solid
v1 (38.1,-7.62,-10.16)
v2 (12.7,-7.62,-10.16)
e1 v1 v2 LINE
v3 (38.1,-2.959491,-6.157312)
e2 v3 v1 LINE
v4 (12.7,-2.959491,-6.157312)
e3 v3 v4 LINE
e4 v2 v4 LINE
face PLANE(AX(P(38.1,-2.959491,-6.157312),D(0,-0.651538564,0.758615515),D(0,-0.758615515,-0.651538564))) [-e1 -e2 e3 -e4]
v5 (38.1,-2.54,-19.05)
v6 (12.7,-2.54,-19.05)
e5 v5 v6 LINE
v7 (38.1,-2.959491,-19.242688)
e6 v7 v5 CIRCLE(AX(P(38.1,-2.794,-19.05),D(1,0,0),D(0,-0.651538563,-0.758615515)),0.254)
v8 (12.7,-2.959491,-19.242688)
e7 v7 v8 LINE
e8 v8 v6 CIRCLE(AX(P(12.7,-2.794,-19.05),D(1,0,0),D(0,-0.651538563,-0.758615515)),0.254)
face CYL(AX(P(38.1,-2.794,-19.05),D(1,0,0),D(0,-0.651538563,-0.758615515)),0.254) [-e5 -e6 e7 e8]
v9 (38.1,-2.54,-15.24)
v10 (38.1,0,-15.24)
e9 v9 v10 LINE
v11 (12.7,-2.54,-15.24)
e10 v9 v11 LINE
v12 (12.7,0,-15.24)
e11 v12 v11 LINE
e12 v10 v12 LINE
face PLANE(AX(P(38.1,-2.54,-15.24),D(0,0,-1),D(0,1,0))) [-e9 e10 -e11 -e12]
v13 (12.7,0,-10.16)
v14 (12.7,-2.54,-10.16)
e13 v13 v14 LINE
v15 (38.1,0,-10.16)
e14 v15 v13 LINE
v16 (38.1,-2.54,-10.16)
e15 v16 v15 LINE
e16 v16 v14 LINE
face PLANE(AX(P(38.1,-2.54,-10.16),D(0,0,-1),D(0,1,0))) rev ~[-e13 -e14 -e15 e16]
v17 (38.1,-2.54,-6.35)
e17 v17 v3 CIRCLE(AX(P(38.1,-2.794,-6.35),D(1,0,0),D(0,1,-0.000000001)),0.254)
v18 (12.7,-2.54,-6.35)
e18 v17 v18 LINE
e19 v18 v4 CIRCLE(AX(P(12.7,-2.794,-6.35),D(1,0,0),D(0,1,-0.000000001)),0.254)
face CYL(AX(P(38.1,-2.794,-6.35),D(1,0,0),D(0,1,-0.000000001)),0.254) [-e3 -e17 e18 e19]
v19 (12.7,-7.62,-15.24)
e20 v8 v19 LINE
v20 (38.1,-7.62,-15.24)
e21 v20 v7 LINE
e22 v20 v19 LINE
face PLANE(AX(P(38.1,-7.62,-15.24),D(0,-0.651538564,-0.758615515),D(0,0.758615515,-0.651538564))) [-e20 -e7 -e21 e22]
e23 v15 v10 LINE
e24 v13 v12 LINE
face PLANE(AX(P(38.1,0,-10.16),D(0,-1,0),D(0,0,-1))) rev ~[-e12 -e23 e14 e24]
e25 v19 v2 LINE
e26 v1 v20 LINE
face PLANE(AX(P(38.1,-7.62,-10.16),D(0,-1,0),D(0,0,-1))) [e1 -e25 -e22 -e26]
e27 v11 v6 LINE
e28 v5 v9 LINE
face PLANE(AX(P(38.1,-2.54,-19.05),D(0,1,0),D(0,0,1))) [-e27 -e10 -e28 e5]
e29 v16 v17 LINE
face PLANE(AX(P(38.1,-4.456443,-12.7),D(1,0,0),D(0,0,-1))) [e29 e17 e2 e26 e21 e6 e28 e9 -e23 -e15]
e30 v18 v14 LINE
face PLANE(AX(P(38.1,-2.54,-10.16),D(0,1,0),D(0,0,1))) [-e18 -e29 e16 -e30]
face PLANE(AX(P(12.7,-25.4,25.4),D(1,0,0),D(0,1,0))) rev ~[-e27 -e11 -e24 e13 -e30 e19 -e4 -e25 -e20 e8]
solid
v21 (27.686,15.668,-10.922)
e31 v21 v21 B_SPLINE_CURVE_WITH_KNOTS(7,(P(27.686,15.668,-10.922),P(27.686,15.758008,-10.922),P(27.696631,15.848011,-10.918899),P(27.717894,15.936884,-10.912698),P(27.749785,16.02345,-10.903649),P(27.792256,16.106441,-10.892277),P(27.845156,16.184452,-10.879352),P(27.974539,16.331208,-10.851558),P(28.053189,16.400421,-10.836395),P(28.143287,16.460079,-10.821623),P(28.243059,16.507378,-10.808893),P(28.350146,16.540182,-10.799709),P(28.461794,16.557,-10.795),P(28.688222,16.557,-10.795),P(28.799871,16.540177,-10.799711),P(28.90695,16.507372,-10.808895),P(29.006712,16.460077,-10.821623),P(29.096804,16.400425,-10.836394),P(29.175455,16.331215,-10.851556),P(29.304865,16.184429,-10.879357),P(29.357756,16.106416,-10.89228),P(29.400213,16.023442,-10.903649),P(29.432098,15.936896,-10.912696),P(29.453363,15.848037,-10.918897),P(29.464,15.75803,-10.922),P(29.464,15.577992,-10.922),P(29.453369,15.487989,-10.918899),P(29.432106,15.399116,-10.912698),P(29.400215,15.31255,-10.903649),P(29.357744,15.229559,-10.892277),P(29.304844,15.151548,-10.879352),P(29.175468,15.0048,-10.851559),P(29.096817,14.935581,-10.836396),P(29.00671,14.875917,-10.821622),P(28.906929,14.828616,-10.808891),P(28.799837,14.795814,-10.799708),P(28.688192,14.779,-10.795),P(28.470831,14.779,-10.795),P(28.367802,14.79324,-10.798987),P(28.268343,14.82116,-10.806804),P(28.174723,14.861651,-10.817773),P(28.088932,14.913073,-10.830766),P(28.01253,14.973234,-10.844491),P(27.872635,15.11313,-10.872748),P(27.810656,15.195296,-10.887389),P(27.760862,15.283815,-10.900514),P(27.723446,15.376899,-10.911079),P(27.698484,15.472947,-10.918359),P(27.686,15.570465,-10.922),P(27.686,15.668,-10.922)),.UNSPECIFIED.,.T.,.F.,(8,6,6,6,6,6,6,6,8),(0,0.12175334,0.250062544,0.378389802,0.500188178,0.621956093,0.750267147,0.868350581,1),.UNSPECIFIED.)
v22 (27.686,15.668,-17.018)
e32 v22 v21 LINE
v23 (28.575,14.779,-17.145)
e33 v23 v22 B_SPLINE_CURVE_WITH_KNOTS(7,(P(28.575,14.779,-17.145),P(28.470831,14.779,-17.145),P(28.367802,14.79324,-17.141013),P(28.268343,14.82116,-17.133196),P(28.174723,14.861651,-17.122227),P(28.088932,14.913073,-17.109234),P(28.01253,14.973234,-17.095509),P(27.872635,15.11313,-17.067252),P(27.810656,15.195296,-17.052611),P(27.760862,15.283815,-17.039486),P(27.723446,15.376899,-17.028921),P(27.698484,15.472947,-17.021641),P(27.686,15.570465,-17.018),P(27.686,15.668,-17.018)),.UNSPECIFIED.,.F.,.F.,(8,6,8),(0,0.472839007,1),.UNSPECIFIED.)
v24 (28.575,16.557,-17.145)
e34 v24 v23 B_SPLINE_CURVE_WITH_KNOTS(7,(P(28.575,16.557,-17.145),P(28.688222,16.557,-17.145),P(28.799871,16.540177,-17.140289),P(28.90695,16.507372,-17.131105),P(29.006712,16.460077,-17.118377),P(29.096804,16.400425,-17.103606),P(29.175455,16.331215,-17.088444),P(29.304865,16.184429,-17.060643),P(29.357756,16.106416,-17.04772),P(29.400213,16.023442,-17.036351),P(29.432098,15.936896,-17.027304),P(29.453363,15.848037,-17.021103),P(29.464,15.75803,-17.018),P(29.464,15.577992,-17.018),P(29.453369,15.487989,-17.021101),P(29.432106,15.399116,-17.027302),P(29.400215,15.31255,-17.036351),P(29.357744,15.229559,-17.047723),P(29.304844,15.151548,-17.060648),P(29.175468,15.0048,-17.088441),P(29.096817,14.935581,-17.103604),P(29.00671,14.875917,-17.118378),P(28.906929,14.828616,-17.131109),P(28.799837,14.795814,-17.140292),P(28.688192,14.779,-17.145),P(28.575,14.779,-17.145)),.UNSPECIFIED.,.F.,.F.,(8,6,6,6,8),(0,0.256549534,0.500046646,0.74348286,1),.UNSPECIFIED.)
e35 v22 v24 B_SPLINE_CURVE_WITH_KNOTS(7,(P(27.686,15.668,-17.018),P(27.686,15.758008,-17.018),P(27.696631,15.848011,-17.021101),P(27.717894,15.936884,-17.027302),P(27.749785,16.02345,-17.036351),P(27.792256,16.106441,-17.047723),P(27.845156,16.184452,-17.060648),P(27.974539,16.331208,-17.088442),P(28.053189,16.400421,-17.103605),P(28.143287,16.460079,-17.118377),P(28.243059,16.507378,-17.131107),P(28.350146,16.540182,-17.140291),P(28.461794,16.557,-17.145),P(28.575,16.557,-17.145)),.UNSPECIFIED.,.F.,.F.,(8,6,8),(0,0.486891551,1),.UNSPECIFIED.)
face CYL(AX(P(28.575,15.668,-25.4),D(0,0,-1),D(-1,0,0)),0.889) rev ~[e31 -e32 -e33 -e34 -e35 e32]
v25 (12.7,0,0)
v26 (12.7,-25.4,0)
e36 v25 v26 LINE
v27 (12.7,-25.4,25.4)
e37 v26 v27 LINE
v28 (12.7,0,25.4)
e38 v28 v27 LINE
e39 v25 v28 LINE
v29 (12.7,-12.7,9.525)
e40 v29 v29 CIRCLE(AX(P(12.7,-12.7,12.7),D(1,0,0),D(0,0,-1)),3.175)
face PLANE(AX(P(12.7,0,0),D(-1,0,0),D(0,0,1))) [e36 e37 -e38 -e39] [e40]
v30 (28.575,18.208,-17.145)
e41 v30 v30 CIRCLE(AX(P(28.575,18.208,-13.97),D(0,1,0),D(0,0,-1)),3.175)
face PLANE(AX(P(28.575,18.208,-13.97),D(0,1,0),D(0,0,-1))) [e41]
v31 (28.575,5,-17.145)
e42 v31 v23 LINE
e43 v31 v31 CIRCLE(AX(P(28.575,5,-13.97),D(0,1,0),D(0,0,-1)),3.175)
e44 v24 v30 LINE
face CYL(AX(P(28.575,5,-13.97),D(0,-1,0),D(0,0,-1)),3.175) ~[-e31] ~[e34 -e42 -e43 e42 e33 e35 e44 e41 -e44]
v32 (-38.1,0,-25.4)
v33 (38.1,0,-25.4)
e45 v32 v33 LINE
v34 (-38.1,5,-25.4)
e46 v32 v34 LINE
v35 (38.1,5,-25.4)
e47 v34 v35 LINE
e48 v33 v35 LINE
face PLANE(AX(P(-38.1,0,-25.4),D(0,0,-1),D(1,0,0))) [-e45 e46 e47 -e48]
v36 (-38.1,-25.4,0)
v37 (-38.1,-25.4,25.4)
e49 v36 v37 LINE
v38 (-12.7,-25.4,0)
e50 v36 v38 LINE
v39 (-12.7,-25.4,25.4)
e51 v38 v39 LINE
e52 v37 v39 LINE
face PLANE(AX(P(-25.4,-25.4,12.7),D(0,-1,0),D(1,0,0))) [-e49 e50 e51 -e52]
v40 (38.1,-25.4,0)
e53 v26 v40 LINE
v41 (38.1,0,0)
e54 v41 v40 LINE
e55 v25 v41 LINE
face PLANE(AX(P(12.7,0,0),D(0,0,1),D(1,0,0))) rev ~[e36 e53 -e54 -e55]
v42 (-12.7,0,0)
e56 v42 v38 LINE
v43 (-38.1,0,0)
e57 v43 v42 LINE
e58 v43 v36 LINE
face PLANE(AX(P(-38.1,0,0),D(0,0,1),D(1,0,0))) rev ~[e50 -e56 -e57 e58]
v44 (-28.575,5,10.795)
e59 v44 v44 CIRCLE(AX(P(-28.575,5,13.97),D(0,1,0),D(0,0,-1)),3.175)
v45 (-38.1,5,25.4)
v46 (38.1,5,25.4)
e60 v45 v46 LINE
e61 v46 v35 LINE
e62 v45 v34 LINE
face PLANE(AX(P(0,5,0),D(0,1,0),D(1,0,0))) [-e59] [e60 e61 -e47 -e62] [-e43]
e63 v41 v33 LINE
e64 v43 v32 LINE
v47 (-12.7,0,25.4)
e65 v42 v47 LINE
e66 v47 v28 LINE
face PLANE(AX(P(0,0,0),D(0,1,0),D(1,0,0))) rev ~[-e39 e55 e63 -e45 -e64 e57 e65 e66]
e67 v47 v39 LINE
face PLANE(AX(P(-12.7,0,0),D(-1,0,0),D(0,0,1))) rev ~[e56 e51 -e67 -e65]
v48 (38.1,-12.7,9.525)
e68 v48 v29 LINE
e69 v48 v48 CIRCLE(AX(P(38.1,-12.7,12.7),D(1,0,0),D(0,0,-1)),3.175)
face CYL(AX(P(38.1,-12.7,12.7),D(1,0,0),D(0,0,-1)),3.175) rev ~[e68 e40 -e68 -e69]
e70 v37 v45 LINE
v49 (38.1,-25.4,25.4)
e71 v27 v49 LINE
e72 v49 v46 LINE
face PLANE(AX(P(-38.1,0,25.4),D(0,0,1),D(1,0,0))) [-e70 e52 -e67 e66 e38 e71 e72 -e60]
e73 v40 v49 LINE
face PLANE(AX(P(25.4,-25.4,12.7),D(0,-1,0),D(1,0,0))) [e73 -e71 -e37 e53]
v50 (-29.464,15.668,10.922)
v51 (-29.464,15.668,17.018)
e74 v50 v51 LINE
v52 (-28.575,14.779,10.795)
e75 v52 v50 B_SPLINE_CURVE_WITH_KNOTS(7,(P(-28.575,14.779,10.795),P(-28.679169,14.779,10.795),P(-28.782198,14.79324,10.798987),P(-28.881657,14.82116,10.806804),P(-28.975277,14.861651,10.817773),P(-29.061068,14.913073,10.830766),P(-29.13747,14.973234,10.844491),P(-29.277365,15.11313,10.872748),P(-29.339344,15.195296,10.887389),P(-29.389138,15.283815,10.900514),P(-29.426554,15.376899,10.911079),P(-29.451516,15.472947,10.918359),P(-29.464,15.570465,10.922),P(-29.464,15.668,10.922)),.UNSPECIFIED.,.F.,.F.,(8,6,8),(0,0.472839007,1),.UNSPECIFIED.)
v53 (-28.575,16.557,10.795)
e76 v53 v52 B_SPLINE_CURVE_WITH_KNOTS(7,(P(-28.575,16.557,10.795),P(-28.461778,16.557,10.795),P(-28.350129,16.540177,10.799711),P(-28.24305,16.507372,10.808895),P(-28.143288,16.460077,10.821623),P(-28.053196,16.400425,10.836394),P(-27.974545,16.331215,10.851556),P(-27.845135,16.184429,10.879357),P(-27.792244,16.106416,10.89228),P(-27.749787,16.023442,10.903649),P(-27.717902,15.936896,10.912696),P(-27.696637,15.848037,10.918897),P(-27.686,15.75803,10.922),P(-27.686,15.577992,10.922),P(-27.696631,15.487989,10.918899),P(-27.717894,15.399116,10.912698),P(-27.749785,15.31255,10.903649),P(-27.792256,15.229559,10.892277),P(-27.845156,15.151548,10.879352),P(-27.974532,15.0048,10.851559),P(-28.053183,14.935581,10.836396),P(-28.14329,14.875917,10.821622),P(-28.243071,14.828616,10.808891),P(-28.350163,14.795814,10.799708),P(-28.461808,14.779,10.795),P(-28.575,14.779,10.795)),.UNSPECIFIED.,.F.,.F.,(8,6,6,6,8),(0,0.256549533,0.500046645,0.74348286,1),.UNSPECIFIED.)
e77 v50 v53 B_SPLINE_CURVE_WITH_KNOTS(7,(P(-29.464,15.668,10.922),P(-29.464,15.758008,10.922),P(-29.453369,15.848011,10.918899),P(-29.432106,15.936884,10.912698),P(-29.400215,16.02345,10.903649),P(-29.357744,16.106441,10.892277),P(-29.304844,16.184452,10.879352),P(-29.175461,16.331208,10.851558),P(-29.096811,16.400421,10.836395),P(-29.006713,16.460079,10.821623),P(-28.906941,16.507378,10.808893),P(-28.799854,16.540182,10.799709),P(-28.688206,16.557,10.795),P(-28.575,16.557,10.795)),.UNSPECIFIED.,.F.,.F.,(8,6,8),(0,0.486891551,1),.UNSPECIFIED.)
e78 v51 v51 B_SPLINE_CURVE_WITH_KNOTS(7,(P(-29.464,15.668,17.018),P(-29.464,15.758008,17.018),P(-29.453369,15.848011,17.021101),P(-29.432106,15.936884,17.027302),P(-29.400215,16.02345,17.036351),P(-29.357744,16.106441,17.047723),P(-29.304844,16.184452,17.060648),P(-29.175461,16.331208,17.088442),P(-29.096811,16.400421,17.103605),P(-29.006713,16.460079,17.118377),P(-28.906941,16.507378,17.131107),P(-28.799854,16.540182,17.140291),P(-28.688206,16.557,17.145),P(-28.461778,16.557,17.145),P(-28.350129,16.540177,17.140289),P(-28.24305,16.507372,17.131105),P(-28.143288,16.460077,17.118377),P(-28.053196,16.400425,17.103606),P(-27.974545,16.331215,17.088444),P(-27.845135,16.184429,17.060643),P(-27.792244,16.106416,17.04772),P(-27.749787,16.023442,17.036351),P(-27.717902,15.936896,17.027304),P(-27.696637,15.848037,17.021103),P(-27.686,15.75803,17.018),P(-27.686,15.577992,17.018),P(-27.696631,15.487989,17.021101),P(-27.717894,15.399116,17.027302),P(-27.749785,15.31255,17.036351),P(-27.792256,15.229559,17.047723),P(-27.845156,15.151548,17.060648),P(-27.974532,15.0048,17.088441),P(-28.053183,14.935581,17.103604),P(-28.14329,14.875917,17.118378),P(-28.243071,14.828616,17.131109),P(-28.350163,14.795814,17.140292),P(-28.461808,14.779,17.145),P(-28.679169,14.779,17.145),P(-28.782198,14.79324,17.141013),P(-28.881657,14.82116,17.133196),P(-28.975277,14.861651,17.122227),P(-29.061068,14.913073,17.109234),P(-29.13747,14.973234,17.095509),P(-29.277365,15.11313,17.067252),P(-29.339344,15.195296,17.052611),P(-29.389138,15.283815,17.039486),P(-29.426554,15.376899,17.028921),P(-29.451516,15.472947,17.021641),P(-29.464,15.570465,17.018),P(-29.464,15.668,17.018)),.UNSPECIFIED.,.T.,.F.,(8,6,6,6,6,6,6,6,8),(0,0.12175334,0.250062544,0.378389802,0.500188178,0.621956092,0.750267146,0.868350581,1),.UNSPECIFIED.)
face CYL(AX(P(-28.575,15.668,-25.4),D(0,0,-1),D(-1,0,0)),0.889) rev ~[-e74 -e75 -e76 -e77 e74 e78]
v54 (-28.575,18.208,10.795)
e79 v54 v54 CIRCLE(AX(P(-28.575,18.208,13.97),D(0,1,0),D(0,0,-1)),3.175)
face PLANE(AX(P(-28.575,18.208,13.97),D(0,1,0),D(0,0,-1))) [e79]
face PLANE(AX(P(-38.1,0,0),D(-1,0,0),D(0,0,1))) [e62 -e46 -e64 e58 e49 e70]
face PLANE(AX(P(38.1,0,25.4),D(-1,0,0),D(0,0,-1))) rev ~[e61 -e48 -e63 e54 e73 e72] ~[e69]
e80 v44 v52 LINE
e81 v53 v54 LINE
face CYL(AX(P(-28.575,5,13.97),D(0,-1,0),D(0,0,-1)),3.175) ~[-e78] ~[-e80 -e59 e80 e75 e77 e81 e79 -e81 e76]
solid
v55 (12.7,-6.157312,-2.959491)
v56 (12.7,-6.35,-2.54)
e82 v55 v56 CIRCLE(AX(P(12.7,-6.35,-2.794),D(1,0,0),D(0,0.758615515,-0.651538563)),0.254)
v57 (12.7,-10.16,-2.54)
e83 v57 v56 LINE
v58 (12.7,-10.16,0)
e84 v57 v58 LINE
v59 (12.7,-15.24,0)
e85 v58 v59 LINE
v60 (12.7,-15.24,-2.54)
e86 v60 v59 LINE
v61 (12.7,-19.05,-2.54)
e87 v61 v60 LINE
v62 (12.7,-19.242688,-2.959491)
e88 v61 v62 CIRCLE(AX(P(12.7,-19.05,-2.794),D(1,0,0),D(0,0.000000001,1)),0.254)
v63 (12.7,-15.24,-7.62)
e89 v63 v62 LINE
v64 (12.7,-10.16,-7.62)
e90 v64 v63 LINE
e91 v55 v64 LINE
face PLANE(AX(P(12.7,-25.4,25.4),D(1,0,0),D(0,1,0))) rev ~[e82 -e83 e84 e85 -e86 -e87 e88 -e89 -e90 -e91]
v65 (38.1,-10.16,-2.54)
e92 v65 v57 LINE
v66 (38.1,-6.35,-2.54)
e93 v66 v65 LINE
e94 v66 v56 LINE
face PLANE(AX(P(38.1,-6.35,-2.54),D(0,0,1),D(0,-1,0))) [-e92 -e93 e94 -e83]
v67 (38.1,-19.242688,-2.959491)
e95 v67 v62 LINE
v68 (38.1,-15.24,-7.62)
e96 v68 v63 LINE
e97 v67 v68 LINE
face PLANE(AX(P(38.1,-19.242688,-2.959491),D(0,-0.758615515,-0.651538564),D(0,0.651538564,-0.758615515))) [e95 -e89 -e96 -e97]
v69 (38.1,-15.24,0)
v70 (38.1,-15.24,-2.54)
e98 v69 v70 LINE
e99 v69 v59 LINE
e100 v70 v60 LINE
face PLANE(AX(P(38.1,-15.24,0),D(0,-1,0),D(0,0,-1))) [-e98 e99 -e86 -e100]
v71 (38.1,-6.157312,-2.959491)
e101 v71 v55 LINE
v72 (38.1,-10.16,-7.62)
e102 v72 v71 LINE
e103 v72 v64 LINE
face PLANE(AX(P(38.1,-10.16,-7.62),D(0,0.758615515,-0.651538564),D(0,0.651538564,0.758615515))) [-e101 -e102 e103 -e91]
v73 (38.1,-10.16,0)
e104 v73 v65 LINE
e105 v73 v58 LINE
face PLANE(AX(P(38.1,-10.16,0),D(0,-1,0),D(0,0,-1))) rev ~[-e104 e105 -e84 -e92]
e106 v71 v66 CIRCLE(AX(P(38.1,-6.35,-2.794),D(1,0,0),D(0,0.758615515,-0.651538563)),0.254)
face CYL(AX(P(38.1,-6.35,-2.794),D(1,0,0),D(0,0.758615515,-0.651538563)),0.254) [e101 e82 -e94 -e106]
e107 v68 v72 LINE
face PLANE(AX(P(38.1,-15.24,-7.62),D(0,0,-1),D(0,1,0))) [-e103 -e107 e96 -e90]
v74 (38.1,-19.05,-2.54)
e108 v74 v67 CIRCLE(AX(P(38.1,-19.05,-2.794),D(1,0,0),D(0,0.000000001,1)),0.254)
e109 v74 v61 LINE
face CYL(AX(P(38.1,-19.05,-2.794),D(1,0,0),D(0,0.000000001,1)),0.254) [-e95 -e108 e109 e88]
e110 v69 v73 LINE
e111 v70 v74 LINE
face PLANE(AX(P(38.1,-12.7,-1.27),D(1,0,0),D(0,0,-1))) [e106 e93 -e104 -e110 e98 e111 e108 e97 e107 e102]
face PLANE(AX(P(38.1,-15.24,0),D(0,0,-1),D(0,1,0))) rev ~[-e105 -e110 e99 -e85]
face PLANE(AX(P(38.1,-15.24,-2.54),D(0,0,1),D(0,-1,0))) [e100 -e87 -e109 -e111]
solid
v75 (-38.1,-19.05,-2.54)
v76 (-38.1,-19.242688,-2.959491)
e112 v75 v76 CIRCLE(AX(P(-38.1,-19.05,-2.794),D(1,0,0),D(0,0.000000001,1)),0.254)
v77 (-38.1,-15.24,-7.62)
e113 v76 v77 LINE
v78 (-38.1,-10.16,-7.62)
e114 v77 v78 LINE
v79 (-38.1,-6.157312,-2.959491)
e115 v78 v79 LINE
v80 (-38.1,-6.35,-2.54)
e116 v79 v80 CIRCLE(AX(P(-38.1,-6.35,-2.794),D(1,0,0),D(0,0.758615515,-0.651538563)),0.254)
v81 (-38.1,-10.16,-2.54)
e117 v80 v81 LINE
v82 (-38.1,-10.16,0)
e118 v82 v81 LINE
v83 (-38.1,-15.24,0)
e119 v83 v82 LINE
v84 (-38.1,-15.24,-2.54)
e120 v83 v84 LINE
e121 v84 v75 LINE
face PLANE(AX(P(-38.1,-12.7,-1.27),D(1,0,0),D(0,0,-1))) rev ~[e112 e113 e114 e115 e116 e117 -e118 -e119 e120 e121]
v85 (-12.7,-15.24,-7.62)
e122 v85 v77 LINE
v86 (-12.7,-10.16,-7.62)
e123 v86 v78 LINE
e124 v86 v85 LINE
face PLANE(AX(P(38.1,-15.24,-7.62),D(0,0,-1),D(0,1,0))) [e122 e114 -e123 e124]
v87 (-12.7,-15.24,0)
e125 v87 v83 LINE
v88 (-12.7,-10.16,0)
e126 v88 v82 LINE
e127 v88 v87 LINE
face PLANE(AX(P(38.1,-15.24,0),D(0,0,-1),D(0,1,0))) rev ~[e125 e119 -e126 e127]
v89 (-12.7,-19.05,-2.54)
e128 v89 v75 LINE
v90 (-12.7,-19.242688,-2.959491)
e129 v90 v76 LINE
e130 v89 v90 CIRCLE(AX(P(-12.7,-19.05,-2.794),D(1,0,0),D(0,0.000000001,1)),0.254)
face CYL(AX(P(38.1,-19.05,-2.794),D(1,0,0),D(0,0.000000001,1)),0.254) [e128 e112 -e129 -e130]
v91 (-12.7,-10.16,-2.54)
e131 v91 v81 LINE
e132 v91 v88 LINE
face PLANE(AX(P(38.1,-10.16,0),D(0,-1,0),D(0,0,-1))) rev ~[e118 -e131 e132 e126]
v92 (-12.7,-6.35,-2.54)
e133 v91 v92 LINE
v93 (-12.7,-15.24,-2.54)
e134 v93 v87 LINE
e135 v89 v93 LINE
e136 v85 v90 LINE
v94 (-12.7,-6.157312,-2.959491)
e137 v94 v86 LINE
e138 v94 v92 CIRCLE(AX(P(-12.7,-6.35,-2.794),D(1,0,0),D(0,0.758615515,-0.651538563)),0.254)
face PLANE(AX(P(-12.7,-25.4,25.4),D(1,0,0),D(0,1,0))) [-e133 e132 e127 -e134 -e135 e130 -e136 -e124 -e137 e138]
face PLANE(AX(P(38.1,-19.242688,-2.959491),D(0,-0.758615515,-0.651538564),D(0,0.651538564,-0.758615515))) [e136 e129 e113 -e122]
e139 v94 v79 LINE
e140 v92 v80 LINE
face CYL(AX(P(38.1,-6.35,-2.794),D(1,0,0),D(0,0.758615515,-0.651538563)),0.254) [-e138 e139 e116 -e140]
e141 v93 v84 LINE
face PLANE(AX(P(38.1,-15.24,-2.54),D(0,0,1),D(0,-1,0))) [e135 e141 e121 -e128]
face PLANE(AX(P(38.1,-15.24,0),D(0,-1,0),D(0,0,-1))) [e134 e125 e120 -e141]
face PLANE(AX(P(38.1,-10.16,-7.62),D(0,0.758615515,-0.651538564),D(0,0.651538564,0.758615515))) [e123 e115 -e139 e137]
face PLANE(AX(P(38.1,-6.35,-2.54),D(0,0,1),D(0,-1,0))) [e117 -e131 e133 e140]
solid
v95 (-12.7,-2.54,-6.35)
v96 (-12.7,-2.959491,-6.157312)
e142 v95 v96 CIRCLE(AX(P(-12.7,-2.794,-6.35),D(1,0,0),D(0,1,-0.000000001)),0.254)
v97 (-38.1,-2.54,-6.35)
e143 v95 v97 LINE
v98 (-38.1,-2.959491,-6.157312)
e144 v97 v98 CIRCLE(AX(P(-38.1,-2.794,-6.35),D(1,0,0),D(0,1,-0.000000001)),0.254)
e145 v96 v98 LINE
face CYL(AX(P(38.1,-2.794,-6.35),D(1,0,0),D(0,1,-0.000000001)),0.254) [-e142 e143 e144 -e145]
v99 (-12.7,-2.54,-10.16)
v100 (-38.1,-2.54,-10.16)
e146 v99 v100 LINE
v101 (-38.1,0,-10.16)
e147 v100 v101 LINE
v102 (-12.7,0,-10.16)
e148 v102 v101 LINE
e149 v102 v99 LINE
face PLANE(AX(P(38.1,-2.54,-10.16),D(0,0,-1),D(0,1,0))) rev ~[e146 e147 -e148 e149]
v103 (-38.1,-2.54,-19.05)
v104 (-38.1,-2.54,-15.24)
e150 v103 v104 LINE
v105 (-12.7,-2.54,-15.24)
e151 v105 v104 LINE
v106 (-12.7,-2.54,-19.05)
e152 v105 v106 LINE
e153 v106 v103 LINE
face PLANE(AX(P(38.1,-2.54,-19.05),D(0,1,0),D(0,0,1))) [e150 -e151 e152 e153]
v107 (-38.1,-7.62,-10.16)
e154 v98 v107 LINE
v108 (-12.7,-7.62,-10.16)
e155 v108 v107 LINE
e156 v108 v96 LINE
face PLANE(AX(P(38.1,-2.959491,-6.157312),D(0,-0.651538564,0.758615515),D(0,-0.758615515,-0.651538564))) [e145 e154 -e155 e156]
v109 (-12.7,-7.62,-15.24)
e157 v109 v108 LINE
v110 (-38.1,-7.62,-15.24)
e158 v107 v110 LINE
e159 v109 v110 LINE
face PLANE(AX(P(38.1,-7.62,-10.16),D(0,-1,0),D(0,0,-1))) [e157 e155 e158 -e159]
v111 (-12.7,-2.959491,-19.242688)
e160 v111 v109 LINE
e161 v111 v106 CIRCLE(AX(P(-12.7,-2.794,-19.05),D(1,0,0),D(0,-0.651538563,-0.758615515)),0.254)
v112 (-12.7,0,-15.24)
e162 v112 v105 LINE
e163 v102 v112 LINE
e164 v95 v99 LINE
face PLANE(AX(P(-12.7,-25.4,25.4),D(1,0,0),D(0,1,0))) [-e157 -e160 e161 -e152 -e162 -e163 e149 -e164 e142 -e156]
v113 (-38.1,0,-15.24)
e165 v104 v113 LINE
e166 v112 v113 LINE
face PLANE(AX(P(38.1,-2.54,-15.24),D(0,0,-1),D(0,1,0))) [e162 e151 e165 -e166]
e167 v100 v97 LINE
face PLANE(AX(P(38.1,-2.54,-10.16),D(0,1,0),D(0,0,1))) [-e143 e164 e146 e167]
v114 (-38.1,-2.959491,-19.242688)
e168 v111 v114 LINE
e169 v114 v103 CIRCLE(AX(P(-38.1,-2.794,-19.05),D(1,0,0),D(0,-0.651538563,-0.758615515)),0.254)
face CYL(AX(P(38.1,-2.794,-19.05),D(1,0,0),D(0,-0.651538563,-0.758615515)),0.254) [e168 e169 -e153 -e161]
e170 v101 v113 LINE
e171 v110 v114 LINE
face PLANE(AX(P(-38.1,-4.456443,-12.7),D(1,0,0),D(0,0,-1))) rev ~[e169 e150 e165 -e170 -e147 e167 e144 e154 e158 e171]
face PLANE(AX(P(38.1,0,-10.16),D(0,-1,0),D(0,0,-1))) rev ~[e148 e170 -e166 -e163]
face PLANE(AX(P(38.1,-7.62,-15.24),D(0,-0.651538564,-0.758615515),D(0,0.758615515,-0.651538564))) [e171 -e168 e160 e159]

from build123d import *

# Parameters (mm, degrees)
SKETCH1_W                        = 76.2
SKETCH1_H                        = 50.8
BOSS_EXTRUDE1_DEPTH              = 5
SKETCH6_W                        = 25.4
SKETCH6_H                        = 25.4
BOSS_EXTRUDE2_DEPTH              = 25.4
F_1_4_0_25_DIAMETER_HOLE1_REACH  = 86.242
F_1_4_0_25_DIAMETER_HOLE1_BORE_R = 3.175
SKETCH10_W                       = 2.54
SKETCH10_H                       = 5.08
SKETCH10_W_2                     = 5.08
SKETCH10_H_2                     = 2.54
BOSS_EXTRUDE3_DEPTH              = 76.2
SKETCH11_W                       = 25.4
SKETCH11_H                       = 25.4
CUT_EXTRUDE2_DEPTH               = 50.8
SKETCH17_R                       = 3.175
BOSS_EXTRUDE4_DEPTH              = 13.208
SKETCH18_R                       = 0.889
CUT_EXTRUDE3_DEPTH               = 69.391593051


with BuildPart() as part:
    # Sketch1 → Boss-Extrude1 (new body)
    with BuildSketch(Plane(origin=(0, 0, 0), x_dir=(1, 0, 0), z_dir=(0, 1, 0))):
        Rectangle(SKETCH1_W, SKETCH1_H)
    extrude(amount=BOSS_EXTRUDE1_DEPTH)

    # Sketch6 → Boss-Extrude2 (add)
    with BuildSketch(Plane.XZ):
        with Locations((-25.4, 12.7)):
            Rectangle(SKETCH6_W, SKETCH6_H)
        with Locations((25.4, 12.7)):
            Rectangle(SKETCH6_W, SKETCH6_H)
    extrude(amount=BOSS_EXTRUDE2_DEPTH)

    # 1/4 (0.25) Diameter Hole1 bore → 1/4 (0.25) Diameter Hole1 (cut, up to next)
    with BuildSketch(Plane(origin=(38.1, 0, 0), x_dir=(0, 0, -1), z_dir=(1, 0, 0)), mode=Mode.PRIVATE) as f_1_4_0_25_diameter_hole1_sk1:
        with Locations((-12.7, -12.7)):
            Circle(F_1_4_0_25_DIAMETER_HOLE1_BORE_R)
    f_1_4_0_25_diameter_hole1_tool1 = extrude(f_1_4_0_25_diameter_hole1_sk1.sketch, amount=-F_1_4_0_25_DIAMETER_HOLE1_REACH, mode=Mode.PRIVATE) & part.part
    add(f_1_4_0_25_diameter_hole1_tool1.solids().sort_by_distance((38.1, -12.7, 12.7))[0], mode=Mode.SUBTRACT)

    # Sketch17 → Boss-Extrude4 (add)
    with BuildSketch(Plane(origin=(0, 5, 0), x_dir=(1, 0, 0), z_dir=(0, 1, 0))):
        with Locations(Location((-28.575, -13.97, 0), (0, 0, 90))):
            Circle(SKETCH17_R)
        with Locations(Location((28.575, 13.97, 0), (0, 0, 90))):
            Circle(SKETCH17_R)
    extrude(amount=BOSS_EXTRUDE4_DEPTH)

    # Sketch18 → Cut-Extrude3 (cut, through all)
    with BuildSketch(Plane(origin=(0, 0, -25.4), x_dir=(-1, 0, 0), z_dir=(0, 0, -1))):
        with Locations((-28.575, 15.668)):
            Circle(SKETCH18_R)
        with Locations((28.575, 15.668)):
            Circle(SKETCH18_R)
    extrude(amount=-CUT_EXTRUDE3_DEPTH, mode=Mode.SUBTRACT)


with BuildPart() as body_2:
    # Sketch10 → Boss-Extrude3 (new body)
    with BuildSketch(Plane(origin=(38.1, 0, 0), x_dir=(0, 0, -1), z_dir=(1, 0, 0))):
        with Locations((1.27, -12.7)):
            Rectangle(SKETCH10_W, SKETCH10_H)
        with BuildLine():
            Line((7.62, -10.16), (2.959490795, -6.157311659))
            ThreePointArc((2.959490795, -6.157311659), (2.687977979, -6.119185505), (2.54, -6.35))
            Line((2.54, -6.35), (2.54, -19.05))
            ThreePointArc((2.54, -19.05), (2.687977979, -19.280814495), (2.959490795, -19.242688341))
            Line((2.959490795, -19.242688341), (7.62, -15.24))
            Line((7.62, -15.24), (7.62, -10.16))
        make_face()
        with BuildLine():
            Line((19.05, -2.54), (6.35, -2.54))
            ThreePointArc((6.35, -2.54), (6.119185505, -2.687977979), (6.157311659, -2.959490795))
            Line((6.157311659, -2.959490795), (10.16, -7.62))
            Line((10.16, -7.62), (15.24, -7.62))
            Line((15.24, -7.62), (19.242688341, -2.959490795))
            ThreePointArc((19.242688341, -2.959490795), (19.280814495, -2.687977979), (19.05, -2.54))
        make_face()
        with Locations((12.7, -1.27)):
            Rectangle(SKETCH10_W_2, SKETCH10_H_2)
    extrude(amount=-BOSS_EXTRUDE3_DEPTH)

    # Sketch11 → Cut-Extrude2 (cut)
    with BuildSketch(Plane.XY.offset(25.4)):
        with Locations((0, -12.7)):
            Rectangle(SKETCH11_W, SKETCH11_H)
    extrude(amount=-CUT_EXTRUDE2_DEPTH, mode=Mode.SUBTRACT)


solid = Compound([part.part, body_2.part])
